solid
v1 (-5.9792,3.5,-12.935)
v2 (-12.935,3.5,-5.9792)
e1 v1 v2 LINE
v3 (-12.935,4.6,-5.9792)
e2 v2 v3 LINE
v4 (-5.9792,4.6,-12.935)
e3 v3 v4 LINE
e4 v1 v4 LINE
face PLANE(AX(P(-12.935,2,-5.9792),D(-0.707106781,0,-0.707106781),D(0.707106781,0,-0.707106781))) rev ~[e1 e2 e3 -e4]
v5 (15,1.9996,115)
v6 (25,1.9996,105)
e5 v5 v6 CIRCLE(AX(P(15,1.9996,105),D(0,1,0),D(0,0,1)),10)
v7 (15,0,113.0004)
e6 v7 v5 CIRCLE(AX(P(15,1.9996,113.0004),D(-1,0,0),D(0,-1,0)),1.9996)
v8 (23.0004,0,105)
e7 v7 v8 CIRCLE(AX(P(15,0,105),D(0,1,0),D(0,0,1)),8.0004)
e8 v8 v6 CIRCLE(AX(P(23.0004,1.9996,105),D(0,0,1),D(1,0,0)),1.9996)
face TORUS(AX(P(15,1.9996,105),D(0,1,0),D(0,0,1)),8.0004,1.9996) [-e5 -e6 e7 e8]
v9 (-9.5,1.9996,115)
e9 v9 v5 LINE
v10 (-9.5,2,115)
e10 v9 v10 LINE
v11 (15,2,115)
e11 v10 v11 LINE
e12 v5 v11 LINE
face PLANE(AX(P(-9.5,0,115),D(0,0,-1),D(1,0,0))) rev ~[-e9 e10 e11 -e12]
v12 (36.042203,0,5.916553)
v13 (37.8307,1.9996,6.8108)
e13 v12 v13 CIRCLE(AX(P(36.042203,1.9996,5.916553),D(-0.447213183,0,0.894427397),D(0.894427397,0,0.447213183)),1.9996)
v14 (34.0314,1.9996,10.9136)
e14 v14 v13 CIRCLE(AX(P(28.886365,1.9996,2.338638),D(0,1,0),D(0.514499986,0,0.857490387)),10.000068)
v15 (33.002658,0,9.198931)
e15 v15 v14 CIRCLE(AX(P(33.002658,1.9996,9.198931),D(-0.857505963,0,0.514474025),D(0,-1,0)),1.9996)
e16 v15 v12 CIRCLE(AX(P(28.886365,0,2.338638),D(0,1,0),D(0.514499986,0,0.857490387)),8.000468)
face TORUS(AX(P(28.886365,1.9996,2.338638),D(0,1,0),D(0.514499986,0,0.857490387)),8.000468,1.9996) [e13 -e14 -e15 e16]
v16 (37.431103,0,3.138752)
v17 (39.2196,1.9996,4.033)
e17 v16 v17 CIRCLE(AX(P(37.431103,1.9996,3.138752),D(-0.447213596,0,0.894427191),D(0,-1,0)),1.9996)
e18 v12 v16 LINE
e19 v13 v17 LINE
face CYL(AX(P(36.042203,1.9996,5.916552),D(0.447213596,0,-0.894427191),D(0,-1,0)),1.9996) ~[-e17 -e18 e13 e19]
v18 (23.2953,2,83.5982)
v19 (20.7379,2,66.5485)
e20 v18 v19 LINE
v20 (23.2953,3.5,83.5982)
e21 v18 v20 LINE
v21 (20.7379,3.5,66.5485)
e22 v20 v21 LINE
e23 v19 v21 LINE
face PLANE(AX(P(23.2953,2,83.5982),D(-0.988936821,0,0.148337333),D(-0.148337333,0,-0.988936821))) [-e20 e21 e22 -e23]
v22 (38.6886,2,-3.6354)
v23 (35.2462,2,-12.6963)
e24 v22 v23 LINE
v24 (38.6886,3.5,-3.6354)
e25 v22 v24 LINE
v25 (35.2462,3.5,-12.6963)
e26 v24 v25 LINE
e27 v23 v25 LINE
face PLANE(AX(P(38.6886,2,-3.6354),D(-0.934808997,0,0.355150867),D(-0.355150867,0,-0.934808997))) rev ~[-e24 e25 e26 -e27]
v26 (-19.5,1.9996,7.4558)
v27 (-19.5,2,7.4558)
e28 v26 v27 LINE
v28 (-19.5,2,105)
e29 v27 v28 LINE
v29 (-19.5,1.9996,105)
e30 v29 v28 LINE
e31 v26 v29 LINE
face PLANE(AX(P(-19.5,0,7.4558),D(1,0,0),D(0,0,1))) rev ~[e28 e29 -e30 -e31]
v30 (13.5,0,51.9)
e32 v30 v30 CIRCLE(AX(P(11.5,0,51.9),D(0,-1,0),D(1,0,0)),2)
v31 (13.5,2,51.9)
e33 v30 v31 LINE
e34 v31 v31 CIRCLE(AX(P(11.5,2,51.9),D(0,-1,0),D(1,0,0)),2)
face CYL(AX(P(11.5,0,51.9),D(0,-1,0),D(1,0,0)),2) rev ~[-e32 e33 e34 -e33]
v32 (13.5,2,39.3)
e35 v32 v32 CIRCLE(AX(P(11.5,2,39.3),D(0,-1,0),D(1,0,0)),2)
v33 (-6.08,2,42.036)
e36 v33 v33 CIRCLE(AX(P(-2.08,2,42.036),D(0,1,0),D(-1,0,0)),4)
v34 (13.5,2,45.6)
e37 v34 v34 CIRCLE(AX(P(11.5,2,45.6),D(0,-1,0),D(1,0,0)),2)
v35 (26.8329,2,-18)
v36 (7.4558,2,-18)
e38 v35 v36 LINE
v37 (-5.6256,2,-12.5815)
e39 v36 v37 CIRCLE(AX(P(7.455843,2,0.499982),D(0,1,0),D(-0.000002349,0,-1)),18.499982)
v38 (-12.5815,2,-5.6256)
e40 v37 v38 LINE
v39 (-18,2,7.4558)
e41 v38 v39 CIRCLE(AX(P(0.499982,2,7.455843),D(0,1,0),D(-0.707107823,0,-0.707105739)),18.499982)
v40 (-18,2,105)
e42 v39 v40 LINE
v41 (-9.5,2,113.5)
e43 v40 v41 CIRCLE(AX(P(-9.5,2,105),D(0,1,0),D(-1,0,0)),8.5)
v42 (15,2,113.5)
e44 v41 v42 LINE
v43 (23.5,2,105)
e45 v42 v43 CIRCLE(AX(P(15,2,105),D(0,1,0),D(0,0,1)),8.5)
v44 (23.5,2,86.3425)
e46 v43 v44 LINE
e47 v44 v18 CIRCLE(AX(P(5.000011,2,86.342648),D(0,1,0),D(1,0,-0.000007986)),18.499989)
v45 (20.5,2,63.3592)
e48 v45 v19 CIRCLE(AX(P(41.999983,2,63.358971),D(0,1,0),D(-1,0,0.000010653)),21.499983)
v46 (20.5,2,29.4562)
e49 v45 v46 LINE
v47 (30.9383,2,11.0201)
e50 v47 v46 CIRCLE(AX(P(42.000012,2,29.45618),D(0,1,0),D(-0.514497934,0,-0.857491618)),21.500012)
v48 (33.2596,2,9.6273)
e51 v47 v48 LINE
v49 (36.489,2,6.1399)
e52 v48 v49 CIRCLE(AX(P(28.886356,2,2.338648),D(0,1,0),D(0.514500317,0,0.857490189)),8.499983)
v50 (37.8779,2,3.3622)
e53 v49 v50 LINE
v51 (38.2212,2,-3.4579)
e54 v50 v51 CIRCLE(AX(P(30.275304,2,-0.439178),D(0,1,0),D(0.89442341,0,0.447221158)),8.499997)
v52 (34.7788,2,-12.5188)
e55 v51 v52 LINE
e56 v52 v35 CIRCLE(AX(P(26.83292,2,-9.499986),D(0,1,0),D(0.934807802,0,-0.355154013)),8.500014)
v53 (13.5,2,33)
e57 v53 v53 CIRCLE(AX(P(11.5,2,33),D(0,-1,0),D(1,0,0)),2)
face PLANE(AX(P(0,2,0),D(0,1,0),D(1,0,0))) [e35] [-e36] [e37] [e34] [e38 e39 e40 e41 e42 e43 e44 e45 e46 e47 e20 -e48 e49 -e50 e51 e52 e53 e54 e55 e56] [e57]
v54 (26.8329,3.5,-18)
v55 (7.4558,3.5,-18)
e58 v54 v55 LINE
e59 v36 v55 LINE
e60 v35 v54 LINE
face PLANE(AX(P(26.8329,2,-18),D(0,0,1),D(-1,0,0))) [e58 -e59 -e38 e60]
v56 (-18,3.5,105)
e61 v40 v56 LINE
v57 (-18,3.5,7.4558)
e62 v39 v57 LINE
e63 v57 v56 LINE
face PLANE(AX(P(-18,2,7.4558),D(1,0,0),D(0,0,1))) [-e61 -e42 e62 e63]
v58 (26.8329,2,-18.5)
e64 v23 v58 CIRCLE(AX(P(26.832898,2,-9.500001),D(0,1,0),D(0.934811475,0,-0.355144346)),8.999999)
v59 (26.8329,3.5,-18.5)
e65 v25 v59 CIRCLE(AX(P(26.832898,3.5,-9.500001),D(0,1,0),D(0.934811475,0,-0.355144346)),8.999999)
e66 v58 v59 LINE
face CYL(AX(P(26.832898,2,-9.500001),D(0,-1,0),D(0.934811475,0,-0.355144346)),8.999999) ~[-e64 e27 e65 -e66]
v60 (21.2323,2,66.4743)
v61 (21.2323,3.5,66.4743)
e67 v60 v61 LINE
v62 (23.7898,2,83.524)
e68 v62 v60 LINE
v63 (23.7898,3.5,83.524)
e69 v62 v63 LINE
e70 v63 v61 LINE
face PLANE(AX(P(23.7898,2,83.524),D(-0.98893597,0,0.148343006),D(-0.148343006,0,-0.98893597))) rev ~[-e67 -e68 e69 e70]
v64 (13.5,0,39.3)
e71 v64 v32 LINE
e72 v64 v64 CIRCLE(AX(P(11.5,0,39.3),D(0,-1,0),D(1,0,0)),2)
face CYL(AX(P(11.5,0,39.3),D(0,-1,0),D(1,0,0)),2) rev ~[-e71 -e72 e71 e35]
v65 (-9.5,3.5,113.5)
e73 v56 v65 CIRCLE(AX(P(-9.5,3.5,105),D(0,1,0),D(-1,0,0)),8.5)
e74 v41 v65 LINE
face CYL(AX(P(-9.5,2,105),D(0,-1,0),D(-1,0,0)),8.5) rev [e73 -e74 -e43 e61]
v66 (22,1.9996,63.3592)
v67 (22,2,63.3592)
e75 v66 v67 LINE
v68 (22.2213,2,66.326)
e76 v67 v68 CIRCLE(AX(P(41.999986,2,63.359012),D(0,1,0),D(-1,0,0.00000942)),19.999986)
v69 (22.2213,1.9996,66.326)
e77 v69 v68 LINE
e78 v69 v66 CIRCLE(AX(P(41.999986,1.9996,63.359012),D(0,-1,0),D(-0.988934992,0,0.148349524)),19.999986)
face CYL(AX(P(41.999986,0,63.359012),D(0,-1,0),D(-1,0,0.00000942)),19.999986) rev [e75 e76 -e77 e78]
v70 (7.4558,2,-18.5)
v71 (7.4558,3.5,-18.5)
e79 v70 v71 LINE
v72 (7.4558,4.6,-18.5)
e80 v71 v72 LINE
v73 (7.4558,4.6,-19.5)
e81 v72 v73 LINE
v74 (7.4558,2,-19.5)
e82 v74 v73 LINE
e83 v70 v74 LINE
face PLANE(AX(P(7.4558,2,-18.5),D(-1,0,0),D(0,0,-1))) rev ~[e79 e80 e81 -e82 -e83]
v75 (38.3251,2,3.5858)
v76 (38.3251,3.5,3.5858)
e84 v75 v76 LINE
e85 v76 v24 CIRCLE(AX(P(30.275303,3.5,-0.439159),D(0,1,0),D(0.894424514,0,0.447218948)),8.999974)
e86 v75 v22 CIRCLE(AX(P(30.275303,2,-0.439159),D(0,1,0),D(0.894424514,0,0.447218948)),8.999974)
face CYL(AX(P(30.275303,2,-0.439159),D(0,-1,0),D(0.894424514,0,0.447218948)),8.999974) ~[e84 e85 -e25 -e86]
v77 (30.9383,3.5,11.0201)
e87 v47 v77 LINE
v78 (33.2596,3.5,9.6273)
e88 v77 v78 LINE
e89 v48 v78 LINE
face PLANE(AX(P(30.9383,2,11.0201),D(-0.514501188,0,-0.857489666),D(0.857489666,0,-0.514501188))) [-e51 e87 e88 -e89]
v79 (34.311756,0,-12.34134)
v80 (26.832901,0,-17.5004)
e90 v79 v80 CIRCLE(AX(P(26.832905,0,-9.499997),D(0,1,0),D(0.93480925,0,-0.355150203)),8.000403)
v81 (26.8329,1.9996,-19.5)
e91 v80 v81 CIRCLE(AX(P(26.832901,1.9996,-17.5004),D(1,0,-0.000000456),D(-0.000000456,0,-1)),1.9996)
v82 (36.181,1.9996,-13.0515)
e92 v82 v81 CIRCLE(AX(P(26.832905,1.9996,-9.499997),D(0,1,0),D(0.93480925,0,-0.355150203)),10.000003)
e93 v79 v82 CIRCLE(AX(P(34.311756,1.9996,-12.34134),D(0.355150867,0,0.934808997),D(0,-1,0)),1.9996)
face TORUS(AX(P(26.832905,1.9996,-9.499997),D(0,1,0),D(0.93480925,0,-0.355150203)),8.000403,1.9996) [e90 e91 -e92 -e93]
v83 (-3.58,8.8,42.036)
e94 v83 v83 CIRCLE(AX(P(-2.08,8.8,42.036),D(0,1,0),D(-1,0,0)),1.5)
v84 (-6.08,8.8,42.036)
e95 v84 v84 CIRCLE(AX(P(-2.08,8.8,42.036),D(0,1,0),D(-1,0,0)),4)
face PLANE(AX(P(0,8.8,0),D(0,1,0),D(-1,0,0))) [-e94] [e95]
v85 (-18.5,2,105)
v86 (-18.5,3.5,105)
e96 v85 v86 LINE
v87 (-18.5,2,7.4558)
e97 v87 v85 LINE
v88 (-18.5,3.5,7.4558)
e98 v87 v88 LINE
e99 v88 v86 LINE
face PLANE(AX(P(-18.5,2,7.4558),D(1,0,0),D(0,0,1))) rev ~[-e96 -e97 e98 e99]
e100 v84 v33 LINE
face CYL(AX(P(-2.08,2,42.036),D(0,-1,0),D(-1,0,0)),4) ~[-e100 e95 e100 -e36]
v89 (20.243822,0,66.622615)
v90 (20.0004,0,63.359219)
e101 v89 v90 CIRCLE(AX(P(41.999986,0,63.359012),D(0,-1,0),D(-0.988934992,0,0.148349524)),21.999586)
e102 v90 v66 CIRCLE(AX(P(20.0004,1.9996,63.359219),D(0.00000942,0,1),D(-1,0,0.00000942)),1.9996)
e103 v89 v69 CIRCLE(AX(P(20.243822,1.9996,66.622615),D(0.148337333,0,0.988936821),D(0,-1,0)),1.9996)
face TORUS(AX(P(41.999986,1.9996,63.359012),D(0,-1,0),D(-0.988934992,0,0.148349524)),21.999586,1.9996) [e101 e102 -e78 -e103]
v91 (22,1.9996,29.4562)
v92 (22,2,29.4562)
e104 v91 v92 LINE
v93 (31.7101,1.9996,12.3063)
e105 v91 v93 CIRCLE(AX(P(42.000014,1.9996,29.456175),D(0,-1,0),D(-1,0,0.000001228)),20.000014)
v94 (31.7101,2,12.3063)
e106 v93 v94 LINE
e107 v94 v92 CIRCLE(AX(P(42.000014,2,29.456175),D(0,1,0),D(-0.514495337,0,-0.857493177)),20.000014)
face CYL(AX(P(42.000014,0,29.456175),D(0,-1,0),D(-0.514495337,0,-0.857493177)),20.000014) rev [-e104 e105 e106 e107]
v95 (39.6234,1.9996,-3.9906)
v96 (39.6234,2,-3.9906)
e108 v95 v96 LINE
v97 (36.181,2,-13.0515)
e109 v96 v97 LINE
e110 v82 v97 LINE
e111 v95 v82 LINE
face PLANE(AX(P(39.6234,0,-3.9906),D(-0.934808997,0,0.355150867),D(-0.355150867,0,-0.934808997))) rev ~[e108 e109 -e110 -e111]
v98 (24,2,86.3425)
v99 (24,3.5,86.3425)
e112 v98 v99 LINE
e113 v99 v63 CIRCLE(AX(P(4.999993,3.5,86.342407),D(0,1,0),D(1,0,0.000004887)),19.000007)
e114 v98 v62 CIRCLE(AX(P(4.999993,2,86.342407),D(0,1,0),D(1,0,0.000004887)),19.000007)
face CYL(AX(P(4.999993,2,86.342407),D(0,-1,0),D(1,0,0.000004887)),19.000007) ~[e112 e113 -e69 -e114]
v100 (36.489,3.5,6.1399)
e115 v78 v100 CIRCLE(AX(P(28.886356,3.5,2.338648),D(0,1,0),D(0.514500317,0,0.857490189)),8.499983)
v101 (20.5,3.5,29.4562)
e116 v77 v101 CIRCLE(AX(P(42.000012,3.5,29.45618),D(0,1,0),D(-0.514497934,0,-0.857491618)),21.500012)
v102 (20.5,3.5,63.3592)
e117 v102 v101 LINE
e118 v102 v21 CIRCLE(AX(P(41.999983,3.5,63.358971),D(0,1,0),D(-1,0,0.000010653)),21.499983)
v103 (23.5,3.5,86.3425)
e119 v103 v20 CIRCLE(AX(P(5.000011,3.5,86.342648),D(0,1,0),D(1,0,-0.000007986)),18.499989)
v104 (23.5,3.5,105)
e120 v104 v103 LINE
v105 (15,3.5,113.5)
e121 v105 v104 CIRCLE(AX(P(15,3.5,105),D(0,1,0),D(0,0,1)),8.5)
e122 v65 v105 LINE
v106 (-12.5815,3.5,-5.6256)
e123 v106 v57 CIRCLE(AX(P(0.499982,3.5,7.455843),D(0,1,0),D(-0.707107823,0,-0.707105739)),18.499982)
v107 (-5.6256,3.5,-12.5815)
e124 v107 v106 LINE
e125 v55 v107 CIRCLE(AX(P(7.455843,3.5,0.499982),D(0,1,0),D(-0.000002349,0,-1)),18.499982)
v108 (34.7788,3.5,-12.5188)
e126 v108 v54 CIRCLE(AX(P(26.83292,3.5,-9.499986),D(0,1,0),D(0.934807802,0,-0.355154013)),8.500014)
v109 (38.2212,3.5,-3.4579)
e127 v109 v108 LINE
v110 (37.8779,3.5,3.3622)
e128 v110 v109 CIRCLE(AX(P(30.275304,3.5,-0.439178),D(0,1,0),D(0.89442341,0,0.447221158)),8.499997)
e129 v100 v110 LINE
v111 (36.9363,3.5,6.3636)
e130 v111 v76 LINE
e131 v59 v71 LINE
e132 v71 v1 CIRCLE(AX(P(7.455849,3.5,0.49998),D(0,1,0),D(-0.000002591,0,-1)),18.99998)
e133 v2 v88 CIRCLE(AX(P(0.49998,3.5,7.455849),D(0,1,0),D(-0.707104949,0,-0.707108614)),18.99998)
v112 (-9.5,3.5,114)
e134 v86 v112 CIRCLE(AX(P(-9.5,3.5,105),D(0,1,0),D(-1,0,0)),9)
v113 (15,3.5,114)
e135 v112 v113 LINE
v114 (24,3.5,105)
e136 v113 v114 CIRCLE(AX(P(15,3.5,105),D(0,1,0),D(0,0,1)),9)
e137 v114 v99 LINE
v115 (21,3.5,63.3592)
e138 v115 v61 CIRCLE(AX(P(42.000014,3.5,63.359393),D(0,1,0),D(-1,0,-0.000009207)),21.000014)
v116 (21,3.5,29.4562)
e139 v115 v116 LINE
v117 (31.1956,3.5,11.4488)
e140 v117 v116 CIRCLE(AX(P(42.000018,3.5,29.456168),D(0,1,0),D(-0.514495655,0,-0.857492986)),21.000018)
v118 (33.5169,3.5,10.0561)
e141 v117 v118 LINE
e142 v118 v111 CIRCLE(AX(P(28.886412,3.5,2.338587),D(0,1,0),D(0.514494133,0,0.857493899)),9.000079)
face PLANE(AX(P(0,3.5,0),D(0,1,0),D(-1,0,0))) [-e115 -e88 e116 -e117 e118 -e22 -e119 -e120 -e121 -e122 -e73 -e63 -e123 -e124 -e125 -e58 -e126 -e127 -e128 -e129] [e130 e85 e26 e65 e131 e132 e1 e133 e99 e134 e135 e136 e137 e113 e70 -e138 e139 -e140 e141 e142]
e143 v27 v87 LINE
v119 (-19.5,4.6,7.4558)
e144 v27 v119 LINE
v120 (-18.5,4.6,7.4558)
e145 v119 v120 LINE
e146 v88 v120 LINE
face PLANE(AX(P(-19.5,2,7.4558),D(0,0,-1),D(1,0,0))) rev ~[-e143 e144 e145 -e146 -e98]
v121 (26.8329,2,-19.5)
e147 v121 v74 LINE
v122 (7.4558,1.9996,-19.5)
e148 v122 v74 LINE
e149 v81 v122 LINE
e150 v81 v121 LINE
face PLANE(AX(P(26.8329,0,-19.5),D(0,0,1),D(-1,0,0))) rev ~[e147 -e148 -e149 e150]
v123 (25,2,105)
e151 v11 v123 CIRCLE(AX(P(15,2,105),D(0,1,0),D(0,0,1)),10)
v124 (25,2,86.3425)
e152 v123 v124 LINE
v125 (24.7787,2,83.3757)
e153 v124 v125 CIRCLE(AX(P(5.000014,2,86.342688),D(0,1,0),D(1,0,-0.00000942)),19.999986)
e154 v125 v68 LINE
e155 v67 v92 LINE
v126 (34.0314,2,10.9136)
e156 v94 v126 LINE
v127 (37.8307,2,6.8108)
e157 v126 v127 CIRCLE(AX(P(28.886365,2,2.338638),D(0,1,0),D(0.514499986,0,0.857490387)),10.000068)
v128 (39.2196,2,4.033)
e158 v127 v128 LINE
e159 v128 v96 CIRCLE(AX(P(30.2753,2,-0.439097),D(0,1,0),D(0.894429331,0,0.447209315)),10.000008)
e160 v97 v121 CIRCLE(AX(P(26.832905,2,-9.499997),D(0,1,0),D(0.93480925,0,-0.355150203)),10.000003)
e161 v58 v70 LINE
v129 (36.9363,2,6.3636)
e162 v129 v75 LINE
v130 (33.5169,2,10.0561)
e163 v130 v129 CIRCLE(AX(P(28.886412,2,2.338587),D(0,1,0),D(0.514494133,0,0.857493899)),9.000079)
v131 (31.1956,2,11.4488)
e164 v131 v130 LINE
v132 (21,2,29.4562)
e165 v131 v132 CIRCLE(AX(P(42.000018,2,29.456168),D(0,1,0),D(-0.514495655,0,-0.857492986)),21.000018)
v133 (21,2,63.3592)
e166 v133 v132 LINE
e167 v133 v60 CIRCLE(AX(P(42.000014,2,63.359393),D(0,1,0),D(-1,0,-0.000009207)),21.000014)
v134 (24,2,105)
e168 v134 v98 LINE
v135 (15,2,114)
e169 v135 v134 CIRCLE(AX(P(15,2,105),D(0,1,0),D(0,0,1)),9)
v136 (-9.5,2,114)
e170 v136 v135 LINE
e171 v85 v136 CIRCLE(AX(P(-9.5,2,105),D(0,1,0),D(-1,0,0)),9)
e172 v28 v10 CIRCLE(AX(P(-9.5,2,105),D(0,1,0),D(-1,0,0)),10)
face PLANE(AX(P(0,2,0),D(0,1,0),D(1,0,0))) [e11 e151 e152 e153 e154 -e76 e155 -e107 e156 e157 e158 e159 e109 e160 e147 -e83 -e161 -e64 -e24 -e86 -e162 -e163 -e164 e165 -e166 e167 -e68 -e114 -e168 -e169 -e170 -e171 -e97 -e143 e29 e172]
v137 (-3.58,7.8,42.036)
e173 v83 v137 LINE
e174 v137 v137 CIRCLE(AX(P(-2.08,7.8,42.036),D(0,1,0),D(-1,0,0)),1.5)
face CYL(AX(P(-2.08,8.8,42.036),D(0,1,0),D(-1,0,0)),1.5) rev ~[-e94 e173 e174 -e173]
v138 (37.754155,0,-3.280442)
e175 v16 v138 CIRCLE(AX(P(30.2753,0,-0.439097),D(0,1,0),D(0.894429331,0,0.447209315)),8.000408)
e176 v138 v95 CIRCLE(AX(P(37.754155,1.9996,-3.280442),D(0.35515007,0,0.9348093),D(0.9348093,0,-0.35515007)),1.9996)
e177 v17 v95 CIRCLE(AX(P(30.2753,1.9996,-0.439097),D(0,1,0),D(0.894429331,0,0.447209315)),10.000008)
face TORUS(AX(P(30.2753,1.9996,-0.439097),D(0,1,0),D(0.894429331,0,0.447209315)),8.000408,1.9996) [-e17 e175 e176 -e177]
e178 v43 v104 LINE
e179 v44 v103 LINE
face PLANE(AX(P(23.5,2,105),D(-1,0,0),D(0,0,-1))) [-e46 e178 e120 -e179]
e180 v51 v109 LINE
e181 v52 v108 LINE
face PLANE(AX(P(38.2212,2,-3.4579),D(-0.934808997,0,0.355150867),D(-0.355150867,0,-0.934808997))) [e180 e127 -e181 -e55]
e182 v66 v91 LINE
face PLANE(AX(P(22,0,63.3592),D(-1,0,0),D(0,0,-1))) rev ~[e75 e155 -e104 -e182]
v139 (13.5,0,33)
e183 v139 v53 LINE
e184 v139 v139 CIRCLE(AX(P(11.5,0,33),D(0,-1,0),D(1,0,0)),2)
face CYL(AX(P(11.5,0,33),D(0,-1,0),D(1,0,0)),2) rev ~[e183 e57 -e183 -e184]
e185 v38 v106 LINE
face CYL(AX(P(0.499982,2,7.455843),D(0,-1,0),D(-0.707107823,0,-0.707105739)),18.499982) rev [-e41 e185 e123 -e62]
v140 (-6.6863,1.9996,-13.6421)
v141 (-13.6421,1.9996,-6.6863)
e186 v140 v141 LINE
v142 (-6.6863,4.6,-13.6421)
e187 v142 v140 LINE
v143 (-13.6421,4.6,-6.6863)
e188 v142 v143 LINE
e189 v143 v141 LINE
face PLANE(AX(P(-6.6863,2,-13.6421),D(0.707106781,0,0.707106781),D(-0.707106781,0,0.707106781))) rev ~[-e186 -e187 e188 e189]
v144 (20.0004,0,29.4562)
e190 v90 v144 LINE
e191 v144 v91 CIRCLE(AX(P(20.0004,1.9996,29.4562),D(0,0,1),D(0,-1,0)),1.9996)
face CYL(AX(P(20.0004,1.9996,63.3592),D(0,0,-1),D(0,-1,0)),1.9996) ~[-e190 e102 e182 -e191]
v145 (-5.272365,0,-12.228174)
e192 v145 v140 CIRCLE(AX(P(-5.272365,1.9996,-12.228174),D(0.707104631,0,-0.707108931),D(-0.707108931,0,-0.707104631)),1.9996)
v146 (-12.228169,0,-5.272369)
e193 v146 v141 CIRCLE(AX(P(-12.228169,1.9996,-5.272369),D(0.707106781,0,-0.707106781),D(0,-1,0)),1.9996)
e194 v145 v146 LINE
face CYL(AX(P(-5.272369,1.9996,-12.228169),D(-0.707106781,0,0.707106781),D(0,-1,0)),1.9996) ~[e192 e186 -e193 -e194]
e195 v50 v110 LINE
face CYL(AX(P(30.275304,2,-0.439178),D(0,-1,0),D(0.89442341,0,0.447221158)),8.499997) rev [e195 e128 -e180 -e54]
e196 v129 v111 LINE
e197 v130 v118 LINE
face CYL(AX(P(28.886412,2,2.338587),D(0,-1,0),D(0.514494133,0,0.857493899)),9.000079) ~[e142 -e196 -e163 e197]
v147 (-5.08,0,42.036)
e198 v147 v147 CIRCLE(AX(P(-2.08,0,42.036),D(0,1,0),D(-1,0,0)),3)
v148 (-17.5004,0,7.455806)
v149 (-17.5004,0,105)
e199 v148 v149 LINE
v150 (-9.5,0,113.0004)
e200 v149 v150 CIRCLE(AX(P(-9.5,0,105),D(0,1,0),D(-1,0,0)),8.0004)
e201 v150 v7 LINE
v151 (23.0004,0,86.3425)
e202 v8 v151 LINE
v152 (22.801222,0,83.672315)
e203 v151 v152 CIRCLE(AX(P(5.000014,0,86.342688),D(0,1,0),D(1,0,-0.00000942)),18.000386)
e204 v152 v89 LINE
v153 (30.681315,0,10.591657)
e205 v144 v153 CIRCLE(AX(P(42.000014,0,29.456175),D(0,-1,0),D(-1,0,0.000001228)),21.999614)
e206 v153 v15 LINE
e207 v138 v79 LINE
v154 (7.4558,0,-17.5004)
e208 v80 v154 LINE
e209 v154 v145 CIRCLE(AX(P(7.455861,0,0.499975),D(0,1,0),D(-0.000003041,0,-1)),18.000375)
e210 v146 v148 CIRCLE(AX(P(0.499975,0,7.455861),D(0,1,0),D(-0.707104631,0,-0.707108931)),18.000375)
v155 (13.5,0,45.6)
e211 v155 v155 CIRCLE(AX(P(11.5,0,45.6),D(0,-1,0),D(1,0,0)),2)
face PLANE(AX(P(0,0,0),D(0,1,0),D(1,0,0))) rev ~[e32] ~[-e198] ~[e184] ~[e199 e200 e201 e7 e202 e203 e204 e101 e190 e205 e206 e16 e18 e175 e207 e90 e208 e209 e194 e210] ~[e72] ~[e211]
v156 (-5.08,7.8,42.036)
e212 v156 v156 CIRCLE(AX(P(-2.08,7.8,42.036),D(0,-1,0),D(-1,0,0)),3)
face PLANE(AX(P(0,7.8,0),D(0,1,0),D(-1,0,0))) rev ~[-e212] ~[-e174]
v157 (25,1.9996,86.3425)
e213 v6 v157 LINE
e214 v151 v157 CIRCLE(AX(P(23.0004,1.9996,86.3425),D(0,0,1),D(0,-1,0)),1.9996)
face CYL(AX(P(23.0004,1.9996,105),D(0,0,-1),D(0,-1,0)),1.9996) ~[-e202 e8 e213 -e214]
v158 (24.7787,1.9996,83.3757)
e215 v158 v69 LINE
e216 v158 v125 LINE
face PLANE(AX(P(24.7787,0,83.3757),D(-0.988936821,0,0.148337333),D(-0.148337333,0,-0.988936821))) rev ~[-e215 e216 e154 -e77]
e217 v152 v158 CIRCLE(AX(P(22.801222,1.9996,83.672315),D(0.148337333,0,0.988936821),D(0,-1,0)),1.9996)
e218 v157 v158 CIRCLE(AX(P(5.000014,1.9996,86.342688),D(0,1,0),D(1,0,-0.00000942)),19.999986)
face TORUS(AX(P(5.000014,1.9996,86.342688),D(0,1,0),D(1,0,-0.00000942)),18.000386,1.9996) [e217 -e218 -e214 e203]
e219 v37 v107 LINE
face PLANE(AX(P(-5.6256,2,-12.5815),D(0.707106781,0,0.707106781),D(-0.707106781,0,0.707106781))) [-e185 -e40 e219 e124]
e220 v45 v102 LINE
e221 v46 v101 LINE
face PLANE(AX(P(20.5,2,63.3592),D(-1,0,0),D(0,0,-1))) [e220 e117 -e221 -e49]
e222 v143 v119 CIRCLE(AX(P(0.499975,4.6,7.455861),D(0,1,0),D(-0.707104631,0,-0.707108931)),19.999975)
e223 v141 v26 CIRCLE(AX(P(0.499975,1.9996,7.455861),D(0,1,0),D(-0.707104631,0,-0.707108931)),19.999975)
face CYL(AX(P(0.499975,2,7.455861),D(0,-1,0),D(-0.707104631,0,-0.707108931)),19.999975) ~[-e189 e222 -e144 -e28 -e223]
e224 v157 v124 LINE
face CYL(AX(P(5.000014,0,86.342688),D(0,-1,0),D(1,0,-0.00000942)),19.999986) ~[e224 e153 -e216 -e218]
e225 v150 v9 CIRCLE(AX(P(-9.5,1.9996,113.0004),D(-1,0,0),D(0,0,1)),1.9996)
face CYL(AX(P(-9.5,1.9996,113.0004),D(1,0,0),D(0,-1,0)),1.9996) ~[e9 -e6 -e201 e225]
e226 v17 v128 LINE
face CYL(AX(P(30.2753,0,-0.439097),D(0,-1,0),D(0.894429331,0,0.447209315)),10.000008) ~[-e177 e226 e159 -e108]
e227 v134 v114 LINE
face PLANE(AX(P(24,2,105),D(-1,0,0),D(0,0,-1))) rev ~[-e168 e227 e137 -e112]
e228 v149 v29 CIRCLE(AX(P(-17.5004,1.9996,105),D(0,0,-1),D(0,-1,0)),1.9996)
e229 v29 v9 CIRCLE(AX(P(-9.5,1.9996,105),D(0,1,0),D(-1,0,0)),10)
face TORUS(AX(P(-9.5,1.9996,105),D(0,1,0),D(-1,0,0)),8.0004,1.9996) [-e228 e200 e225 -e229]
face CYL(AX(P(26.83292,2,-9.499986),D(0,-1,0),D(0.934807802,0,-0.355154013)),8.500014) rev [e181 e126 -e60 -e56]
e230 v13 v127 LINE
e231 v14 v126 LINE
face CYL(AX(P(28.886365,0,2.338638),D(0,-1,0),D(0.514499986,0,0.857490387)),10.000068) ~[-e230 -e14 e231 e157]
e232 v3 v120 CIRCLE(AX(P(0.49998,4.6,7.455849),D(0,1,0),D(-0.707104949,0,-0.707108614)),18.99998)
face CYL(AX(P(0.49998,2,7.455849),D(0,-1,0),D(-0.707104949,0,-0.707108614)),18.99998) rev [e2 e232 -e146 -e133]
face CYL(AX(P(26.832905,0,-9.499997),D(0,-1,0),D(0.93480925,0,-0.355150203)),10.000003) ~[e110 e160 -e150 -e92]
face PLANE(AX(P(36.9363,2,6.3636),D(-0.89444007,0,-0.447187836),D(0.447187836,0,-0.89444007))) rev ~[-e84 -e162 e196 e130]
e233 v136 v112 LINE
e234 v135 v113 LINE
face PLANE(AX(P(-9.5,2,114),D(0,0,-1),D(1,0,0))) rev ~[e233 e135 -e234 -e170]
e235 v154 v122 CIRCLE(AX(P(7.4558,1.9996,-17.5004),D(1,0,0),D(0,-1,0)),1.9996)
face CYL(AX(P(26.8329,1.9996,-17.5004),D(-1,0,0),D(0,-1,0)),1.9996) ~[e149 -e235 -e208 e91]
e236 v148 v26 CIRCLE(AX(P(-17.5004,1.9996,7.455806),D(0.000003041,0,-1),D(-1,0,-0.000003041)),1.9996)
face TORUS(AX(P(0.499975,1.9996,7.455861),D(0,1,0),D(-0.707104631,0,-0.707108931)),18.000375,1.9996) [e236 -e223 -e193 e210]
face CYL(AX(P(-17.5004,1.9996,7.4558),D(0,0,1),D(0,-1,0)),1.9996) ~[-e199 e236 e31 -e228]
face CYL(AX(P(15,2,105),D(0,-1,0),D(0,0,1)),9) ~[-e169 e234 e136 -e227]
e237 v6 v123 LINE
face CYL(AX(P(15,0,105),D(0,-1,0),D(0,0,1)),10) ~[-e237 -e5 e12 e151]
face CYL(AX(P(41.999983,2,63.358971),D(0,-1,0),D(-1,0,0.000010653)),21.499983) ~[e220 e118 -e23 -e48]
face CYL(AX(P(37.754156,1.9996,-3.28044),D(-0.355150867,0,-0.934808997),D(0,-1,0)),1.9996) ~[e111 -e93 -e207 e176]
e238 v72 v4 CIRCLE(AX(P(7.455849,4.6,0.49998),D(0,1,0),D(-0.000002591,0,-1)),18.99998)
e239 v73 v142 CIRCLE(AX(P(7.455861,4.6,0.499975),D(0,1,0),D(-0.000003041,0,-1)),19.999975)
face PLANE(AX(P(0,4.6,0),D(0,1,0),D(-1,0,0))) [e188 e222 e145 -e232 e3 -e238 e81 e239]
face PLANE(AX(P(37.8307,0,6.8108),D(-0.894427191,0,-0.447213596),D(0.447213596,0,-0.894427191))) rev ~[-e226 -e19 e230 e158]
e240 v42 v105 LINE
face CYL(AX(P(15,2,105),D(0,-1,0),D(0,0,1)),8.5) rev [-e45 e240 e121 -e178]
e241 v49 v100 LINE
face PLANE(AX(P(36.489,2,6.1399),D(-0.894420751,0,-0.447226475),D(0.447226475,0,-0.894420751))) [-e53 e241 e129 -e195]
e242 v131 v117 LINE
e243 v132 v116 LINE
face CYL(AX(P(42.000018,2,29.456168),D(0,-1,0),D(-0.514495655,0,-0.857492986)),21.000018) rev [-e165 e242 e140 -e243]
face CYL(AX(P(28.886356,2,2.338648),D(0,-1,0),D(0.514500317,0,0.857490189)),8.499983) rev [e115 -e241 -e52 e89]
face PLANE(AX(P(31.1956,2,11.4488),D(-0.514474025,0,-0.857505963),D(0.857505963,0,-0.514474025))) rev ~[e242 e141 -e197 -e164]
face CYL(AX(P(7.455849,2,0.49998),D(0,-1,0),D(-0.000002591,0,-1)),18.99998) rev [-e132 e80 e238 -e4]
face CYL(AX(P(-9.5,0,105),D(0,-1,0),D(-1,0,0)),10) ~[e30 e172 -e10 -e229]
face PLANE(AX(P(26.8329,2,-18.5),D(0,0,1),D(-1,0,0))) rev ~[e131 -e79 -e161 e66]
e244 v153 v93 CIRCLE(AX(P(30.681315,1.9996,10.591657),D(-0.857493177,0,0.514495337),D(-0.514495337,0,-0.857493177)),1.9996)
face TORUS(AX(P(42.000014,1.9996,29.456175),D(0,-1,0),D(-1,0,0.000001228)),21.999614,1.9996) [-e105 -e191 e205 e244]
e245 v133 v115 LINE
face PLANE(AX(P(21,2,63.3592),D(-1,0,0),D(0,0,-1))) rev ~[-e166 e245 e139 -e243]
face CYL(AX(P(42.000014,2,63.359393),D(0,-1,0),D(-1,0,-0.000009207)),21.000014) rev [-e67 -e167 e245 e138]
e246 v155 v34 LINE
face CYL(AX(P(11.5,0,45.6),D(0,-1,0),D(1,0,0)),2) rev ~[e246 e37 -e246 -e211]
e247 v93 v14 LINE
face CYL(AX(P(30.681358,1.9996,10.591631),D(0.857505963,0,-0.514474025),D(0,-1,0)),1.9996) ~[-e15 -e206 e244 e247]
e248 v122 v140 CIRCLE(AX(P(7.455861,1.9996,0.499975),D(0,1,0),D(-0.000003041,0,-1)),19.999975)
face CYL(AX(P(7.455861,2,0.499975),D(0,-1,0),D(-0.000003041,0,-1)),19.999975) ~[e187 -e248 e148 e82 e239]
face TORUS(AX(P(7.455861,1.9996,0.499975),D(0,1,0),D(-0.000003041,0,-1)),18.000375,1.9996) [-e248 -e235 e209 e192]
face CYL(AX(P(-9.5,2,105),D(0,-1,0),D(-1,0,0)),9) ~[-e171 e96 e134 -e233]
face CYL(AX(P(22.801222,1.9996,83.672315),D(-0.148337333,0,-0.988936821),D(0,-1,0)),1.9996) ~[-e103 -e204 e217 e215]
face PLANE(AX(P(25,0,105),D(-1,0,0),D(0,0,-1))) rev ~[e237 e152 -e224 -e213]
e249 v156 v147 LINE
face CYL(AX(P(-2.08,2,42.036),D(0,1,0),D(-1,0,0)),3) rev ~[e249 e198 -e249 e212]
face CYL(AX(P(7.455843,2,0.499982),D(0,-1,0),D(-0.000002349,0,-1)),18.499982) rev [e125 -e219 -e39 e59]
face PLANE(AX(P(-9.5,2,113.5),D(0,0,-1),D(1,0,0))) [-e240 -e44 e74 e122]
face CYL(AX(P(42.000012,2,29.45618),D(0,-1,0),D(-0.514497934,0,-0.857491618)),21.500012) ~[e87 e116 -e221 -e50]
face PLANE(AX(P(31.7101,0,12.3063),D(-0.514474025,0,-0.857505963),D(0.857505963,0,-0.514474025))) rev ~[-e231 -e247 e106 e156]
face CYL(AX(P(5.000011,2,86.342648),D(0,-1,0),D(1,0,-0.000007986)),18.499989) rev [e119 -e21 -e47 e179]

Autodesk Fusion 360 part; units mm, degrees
sketch "Sketch1" plane through (0, 0, 0) normal (0, 1, 0) x (1, 0, 0)
  line L0 (31.7101, -12.3063) -> (34.0314, -10.9136)
  arc A0 (39.2196, -4.033) -> (39.6234, 3.9906) centre (30.2753, 0.4391) ccw
  line L1 (37.8307, -6.8108) -> (39.2196, -4.033)
  arc A1 (15, -115) -> (25, -105) centre (15, -105) ccw
  arc A2 (31.7101, -12.3063) -> (22, -29.4562) centre (42, -29.4562) ccw
  arc A3 (34.0314, -10.9136) -> (37.8307, -6.8108) centre (28.8864, -2.3386) ccw
  arc A4 (36.181, 13.0515) -> (26.8329, 19.5) centre (26.8329, 9.5) ccw
  line L2 (39.6234, 3.9906) -> (36.181, 13.0515)
  arc A5 (-13.6421, 6.6863) -> (-19.5, -7.4558) centre (0.5, -7.4558) ccw
  line L3 (22, -63.3592) -> (22, -29.4562)
  arc A6 (7.4558, 19.5) -> (-6.6863, 13.6421) centre (7.4558, -0.5) ccw
  line L4 (24.7787, -83.3757) -> (22.2213, -66.326)
  arc A7 (25, -86.3425) -> (24.7787, -83.3757) centre (5, -86.3425) ccw
  line L5 (-6.6863, 13.6421) -> (-13.6421, 6.6863)
  line L6 (-9.5, -115) -> (15, -115)
  arc A8 (-19.5, -105) -> (-9.5, -115) centre (-9.5, -105) ccw
  line L7 (25, -105) -> (25, -86.3425)
  line L8 (26.8329, 19.5) -> (7.4558, 19.5)
  line L9 (-19.5, -7.4558) -> (-19.5, -105)
  arc A9 (22, -63.3592) -> (22.2213, -66.326) centre (42, -63.3592) ccw
extrude "Extrude1" add sketch "Sketch1" along normal blind 2
sketch "Sketch2" plane through (0, 2, 0) normal (0, 1, 0) x (-1, 0, 0)
  line L0 (-31.7101, 12.3063) -> (-34.0314, 10.9136)
  arc A0 (-34.0314, 10.9136) -> (-37.8307, 6.8108) centre (-28.8864, 2.3386) ccw
  line L1 (-37.8307, 6.8108) -> (-39.2196, 4.033)
  arc A1 (-39.2196, 4.033) -> (-39.6234, -3.9906) centre (-30.2753, -0.4391) ccw
  line L2 (-39.6234, -3.9906) -> (-36.181, -13.0515)
  arc A2 (-36.181, -13.0515) -> (-26.8329, -19.5) centre (-26.8329, -9.5) ccw
  line L3 (-26.8329, -19.5) -> (-7.4558, -19.5)
  arc A3 (-7.4558, -19.5) -> (6.6863, -13.6421) centre (-7.4558, 0.5) ccw
  line L4 (6.6863, -13.6421) -> (13.6421, -6.6863)
  arc A4 (13.6421, -6.6863) -> (19.5, 7.4558) centre (-0.5, 7.4558) ccw
  line L5 (19.5, 7.4558) -> (19.5, 105)
  arc A5 (19.5, 105) -> (9.5, 115) centre (9.5, 105) ccw
  line L6 (9.5, 115) -> (-15, 115)
  arc A6 (-15, 115) -> (-25, 105) centre (-15, 105) ccw
  line L7 (-25, 105) -> (-25, 86.3425)
  arc A7 (-25, 86.3425) -> (-24.7787, 83.3757) centre (-5, 86.3425) ccw
  line L8 (-24.7787, 83.3757) -> (-22.2213, 66.326)
  arc A8 (-22, 63.3592) -> (-22.2213, 66.326) centre (-42, 63.3592) ccw
  line L9 (-22, 63.3592) -> (-22, 29.4562)
  arc A9 (-31.7101, 12.3063) -> (-22, 29.4562) centre (-42, 29.4562) ccw
  line L10 (18.5, 7.4558) -> (18.5, 105)
  arc A10 (18.5, 105) -> (9.5, 114) centre (9.5, 105) ccw
  line L11 (9.5, 114) -> (-15, 114)
  arc A11 (-15, 114) -> (-24, 105) centre (-15, 105) ccw
  line L12 (-24, 105) -> (-24, 86.3425)
  arc A12 (-24, 86.3425) -> (-23.7898, 83.524) centre (-5, 86.3425) ccw
  line L13 (-23.7898, 83.524) -> (-21.2323, 66.4743)
  arc A13 (-21, 63.3592) -> (-21.2323, 66.4743) centre (-42, 63.3592) ccw
  line L14 (-21, 63.3592) -> (-21, 29.4562)
  arc A14 (-31.1956, 11.4488) -> (-21, 29.4562) centre (-42, 29.4562) ccw
  line L15 (-31.1956, 11.4488) -> (-33.5169, 10.0561)
  arc A15 (-33.5169, 10.0561) -> (-36.9363, 6.3636) centre (-28.8864, 2.3386) ccw
  line L16 (-36.9363, 6.3636) -> (-38.3251, 3.5858)
  arc A16 (-38.3251, 3.5858) -> (-38.6886, -3.6354) centre (-30.2753, -0.4391) ccw
  line L17 (-38.6886, -3.6354) -> (-35.2462, -12.6963)
  arc A17 (-35.2462, -12.6963) -> (-26.8329, -18.5) centre (-26.8329, -9.5) ccw
  line L18 (-26.8329, -18.5) -> (-7.4558, -18.5)
  arc A18 (-7.4558, -18.5) -> (5.9792, -12.935) centre (-7.4558, 0.5) ccw
  line L19 (5.9792, -12.935) -> (12.935, -5.9792)
  arc A19 (12.935, -5.9792) -> (18.5, 7.4558) centre (-0.5, 7.4558) ccw
  line L20 (9.5, 113.5) -> (-15, 113.5)
  arc A20 (-15, 113.5) -> (-23.5, 105) centre (-15, 105) ccw
  line L21 (-23.5, 105) -> (-23.5, 86.3425)
  arc A21 (-23.5, 86.3425) -> (-23.2953, 83.5982) centre (-5, 86.3425) ccw
  line L22 (-23.2953, 83.5982) -> (-20.7379, 66.5485)
  arc A22 (-20.5, 63.3592) -> (-20.7379, 66.5485) centre (-42, 63.3592) ccw
  line L23 (-20.5, 63.3592) -> (-20.5, 29.4562)
  arc A23 (-30.9383, 11.0201) -> (-20.5, 29.4562) centre (-42, 29.4562) ccw
  line L24 (-30.9383, 11.0201) -> (-33.2596, 9.6273)
  arc A24 (-33.2596, 9.6273) -> (-36.489, 6.1399) centre (-28.8864, 2.3386) ccw
  line L25 (-36.489, 6.1399) -> (-37.8779, 3.3622)
  arc A25 (-37.8779, 3.3622) -> (-38.2212, -3.4579) centre (-30.2753, -0.4391) ccw
  line L26 (-38.2212, -3.4579) -> (-34.7788, -12.5188)
  arc A26 (-34.7788, -12.5188) -> (-26.8329, -18) centre (-26.8329, -9.5) ccw
  line L27 (-26.8329, -18) -> (-7.4558, -18)
  arc A27 (-7.4558, -18) -> (5.6256, -12.5815) centre (-7.4558, 0.5) ccw
  line L28 (5.6256, -12.5815) -> (12.5815, -5.6256)
  arc A28 (12.5815, -5.6256) -> (18, 7.4558) centre (-0.5, 7.4558) ccw
  line L29 (18, 7.4558) -> (18, 105)
  arc A29 (18, 105) -> (9.5, 113.5) centre (9.5, 105) ccw
  dimension "d40" = -1
  dimension "d41" = -1.5
extrude "Extrude2" add sketch "Sketch2" along normal blind 1.5 contours L10 A10 L11 A11 L12 A12 L13 A13 L14 A14 L15 A15 L16 A16 L17 A17 L18 A18 L19 A19
sketch "Sketch3" plane through (0, 2, 0) normal (0, 1, 0) x (-1, 0, 0)
  line L0 (19.5, 7.4558) -> (18.5, 7.4558)
  arc A0 (-31.7101, 12.3063) -> (-22, 29.4562) centre (-42, 29.4562) ccw
  line L1 (-31.7101, 12.3063) -> (-34.0314, 10.9136)
  arc A1 (-34.0314, 10.9136) -> (-37.8307, 6.8108) centre (-28.8864, 2.3386) ccw
  line L2 (-37.8307, 6.8108) -> (-39.2196, 4.033)
  line L3 (-25, 105) -> (-25, 86.3425)
  arc A2 (-25, 86.3425) -> (-24.7787, 83.3757) centre (-5, 86.3425) ccw
  line L4 (-24.7787, 83.3757) -> (-22.2213, 66.326)
  arc A3 (-22, 63.3592) -> (-22.2213, 66.326) centre (-42, 63.3592) ccw
  line L5 (-22, 63.3592) -> (-22, 29.4562)
  line L6 (-39.6234, -3.9906) -> (-36.181, -13.0515)
  arc A4 (-36.181, -13.0515) -> (-26.8329, -19.5) centre (-26.8329, -9.5) ccw
  line L7 (-26.8329, -19.5) -> (-7.4558, -19.5)
  arc A5 (-7.4558, -19.5) -> (6.6863, -13.6421) centre (-7.4558, 0.5) ccw
  line L8 (6.6863, -13.6421) -> (13.6421, -6.6863)
  arc A6 (13.6421, -6.6863) -> (19.5, 7.4558) centre (-0.5, 7.4558) ccw
  line L9 (19.5, 7.4558) -> (19.5, 105)
  arc A7 (19.5, 105) -> (9.5, 115) centre (9.5, 105) ccw
  line L10 (9.5, 115) -> (-15, 115)
  arc A8 (-15, 115) -> (-25, 105) centre (-15, 105) ccw
  arc A9 (-33.2596, 9.6273) -> (-36.489, 6.1399) centre (-28.8864, 2.3386) ccw
  line L11 (-36.489, 6.1399) -> (-37.8779, 3.3622)
  arc A10 (-37.8779, 3.3622) -> (-38.2212, -3.4579) centre (-30.2753, -0.4391) ccw
  line L12 (-38.2212, -3.4579) -> (-34.7788, -12.5188)
  arc A11 (-34.7788, -12.5188) -> (-26.8329, -18) centre (-26.8329, -9.5) ccw
  line L13 (-26.8329, -18) -> (-7.4558, -18)
  arc A12 (-7.4558, -18) -> (5.6256, -12.5815) centre (-7.4558, 0.5) ccw
  line L14 (5.6256, -12.5815) -> (12.5815, -5.6256)
  arc A13 (12.5815, -5.6256) -> (18, 7.4558) centre (-0.5, 7.4558) ccw
  line L15 (18, 7.4558) -> (18, 105)
  arc A14 (18, 105) -> (9.5, 113.5) centre (9.5, 105) ccw
  line L16 (9.5, 113.5) -> (-15, 113.5)
  arc A15 (-15, 113.5) -> (-23.5, 105) centre (-15, 105) ccw
  line L17 (-23.5, 105) -> (-23.5, 86.3425)
  arc A16 (-23.5, 86.3425) -> (-23.2953, 83.5982) centre (-5, 86.3425) ccw
  line L18 (-23.2953, 83.5982) -> (-20.7379, 66.5485)
  arc A17 (-20.5, 63.3592) -> (-20.7379, 66.5485) centre (-42, 63.3592) ccw
  line L19 (-20.5, 63.3592) -> (-20.5, 29.4562)
  arc A18 (-30.9383, 11.0201) -> (-20.5, 29.4562) centre (-42, 29.4562) ccw
  line L20 (-30.9383, 11.0201) -> (-33.2596, 9.6273)
  arc A19 (-39.2196, 4.033) -> (-39.6234, -3.9906) centre (-30.2753, -0.4391) ccw
  arc A20 (-31.1956, 11.4488) -> (-21, 29.4562) centre (-42, 29.4562) ccw
  line L21 (-21, 29.4562) -> (-21, 63.3592)
  arc A21 (-21, 63.3592) -> (-21.2323, 66.4743) centre (-42, 63.3592) ccw
  line L22 (-21.2323, 66.4743) -> (-23.7898, 83.524)
  arc A22 (-24, 86.3425) -> (-23.7898, 83.524) centre (-5, 86.3425) ccw
  line L23 (-24, 86.3425) -> (-24, 105)
  arc A23 (-15, 114) -> (-24, 105) centre (-15, 105) ccw
  line L24 (-15, 114) -> (9.5, 114)
  arc A24 (18.5, 105) -> (9.5, 114) centre (9.5, 105) ccw
  line L25 (18.5, 105) -> (18.5, 7.4558)
  arc A25 (12.935, -5.9792) -> (18.5, 7.4558) centre (-0.5, 7.4558) ccw
  line L26 (12.935, -5.9792) -> (5.9792, -12.935)
  arc A26 (-7.4558, -18.5) -> (5.9792, -12.935) centre (-7.4558, 0.5) ccw
  line L27 (-7.4558, -18.5) -> (-26.8329, -18.5)
  arc A27 (-35.2462, -12.6963) -> (-26.8329, -18.5) centre (-26.8329, -9.5) ccw
  line L28 (-35.2462, -12.6963) -> (-38.6886, -3.6354)
  arc A28 (-38.3251, 3.5858) -> (-38.6886, -3.6354) centre (-30.2753, -0.4391) ccw
  line L29 (-38.3251, 3.5858) -> (-36.9363, 6.3636)
  arc A29 (-33.5169, 10.0561) -> (-36.9363, 6.3636) centre (-28.8864, 2.3386) ccw
  line L30 (-33.5169, 10.0561) -> (-31.1956, 11.4488)
  line L31 (-7.4558, -18.5) -> (-7.4558, -19.5)
extrude "Extrude3" add sketch "Sketch3" along normal blind 2.6 contours L0 A5 L8 A6 A25 L26 A26 L31
sketch "Sketch4" plane through (0, 0, 0) normal (0, -1, 0) x (1, 0, 0)
  circle A0 centre (11.5, 33) radius 2
  circle A1 centre (11.5, 39.3) radius 2
  circle A2 centre (11.5, 45.6) radius 2
  circle A3 centre (11.5, 51.9) radius 2
  line L0 (34.0314, 10.9136) -> (31.7101, 12.3063)
  arc A4 (22, 29.4562) -> (31.7101, 12.3063) centre (42, 29.4562) ccw
  line L1 (22, 29.4562) -> (22, 63.3592)
  arc A5 (22.2213, 66.326) -> (22, 63.3592) centre (42, 63.3592) ccw
  line L2 (22.2213, 66.326) -> (24.7787, 83.3757)
  arc A6 (24.7787, 83.3757) -> (25, 86.3425) centre (5, 86.3425) ccw
  line L3 (25, 86.3425) -> (25, 105)
  arc A7 (25, 105) -> (15, 115) centre (15, 105) ccw
  line L4 (15, 115) -> (-9.5, 115)
  arc A8 (-9.5, 115) -> (-19.5, 105) centre (-9.5, 105) ccw
  line L5 (-19.5, 105) -> (-19.5, 7.4558)
  arc A9 (-19.5, 7.4558) -> (-13.6421, -6.6863) centre (0.5, 7.4558) ccw
  line L6 (-13.6421, -6.6863) -> (-6.6863, -13.6421)
  arc A10 (-6.6863, -13.6421) -> (7.4558, -19.5) centre (7.4558, 0.5) ccw
  line L7 (7.4558, -19.5) -> (26.8329, -19.5)
  arc A11 (26.8329, -19.5) -> (36.181, -13.0515) centre (26.8329, -9.5) ccw
  line L8 (36.181, -13.0515) -> (39.6234, -3.9906)
  arc A12 (39.6234, -3.9906) -> (39.2196, 4.033) centre (30.2753, -0.4391) ccw
  line L9 (39.2196, 4.033) -> (37.8307, 6.8108)
  arc A13 (37.8307, 6.8108) -> (34.0314, 10.9136) centre (28.8864, 2.3386) ccw
  dimension "d14" = 4
  dimension "d18" = 0
  dimension "d19" = 6.3
  dimension "d44" = 10.5
extrude "Extrude4" cut sketch "Sketch4" against normal blind 5 contours A0 | A1 | A2 | A3
sketch "Sketch5" plane through (0, 2, 0) normal (0, 1, 0) x (-1, 0, 0)
  circle A0 centre (-11.5, 39.3) radius 2
  circle A1 centre (-11.5, 45.6) radius 2
  circle A2 centre (-11.5, 33) radius 2
  circle A3 centre (-11.5, 51.9) radius 2
  circle A4 centre (2.08, 42.036) radius 3
  circle A5 centre (2.08, 42.036) radius 4
  arc A6 (-33.2596, 9.6273) -> (-36.489, 6.1399) centre (-28.8864, 2.3386) ccw
  line L0 (-36.489, 6.1399) -> (-37.8779, 3.3622)
  arc A7 (-37.8779, 3.3622) -> (-38.2212, -3.4579) centre (-30.2753, -0.4391) ccw
  line L1 (-38.2212, -3.4579) -> (-34.7788, -12.5188)
  arc A8 (-34.7788, -12.5188) -> (-26.8329, -18) centre (-26.8329, -9.5) ccw
  line L2 (-26.8329, -18) -> (-7.4558, -18)
  arc A9 (-7.4558, -18) -> (5.6256, -12.5815) centre (-7.4558, 0.5) ccw
  line L3 (5.6256, -12.5815) -> (12.5815, -5.6256)
  arc A10 (12.5815, -5.6256) -> (18, 7.4558) centre (-0.5, 7.4558) ccw
  line L4 (18, 7.4558) -> (18, 105)
  arc A11 (18, 105) -> (9.5, 113.5) centre (9.5, 105) ccw
  arc A12 (-15, 113.5) -> (-23.5, 105) centre (-15, 105) ccw
  line L5 (-23.5, 105) -> (-23.5, 86.3425)
  arc A13 (-23.5, 86.3425) -> (-23.2953, 83.5982) centre (-5, 86.3425) ccw
  line L6 (-23.2953, 83.5982) -> (-20.7379, 66.5485)
  arc A14 (-20.5, 63.3592) -> (-20.7379, 66.5485) centre (-42, 63.3592) ccw
  line L7 (-20.5, 63.3592) -> (-20.5, 29.4562)
  arc A15 (-30.9383, 11.0201) -> (-20.5, 29.4562) centre (-42, 29.4562) ccw
  line L8 (-30.9383, 11.0201) -> (-33.2596, 9.6273)
  line L9 (19.5, 7.4558) -> (19.5, 105)
  line L10 (9.5, 115) -> (-15, 115)
  dimension "d22" = 6
  dimension "d23" = 8
  dimension "d42" = 17.42
  dimension "d43" = 72.964
extrude "Extrude5" add sketch "Sketch5" along normal blind 6.8 contours A5
extrude "Extrude6" cut 1 faces at (-1.2923, 2, 40.6272) along direction (0, -1, 0) blind 5
sketch "Sketch6" plane through (0, 8.8, 0) normal (0, 1, 0) x (-1, 0, 0)
  circle A0 centre (2.08, 42.036) radius 3
  circle A1 centre (2.08, 42.036) radius 4
  circle A2 centre (2.08, 42.036) radius 4
extrude "Extrude7" add sketch "Sketch6" against normal blind 1 contours A0 | A1 A2
sketch "Sketch7" plane through (0, 8.8, 0) normal (0, 1, 0) x (-1, 0, 0)
  circle A0 centre (2.08, 42.036) radius 4
  circle A1 centre (2.08, 42.036) radius 1.5
  dimension "d31" = 3
extrude "Extrude8" cut sketch "Sketch7" against normal blind 5 contours A1
fillet "Fillet1" radius 2 20 edges at (23.5, 0, 74.8508) (22.0554, 0, 64.8467) (22, 0, 46.4077) (24.596, 0, 19.6022) (32.8707, 0, 11.6099) (36.2236, 0, 9.1331) (38.5251, 0, 5.4219) (40.2626, 0, 0.0635) (37.9022, 0, -8.521) (32.5112, 0, -17.7315) (17.1444, 0, -19.5) (-0.1978, 0, -17.9776) (-10.1642, 0, -10.1642) (-17.9776, 0, -0.1978) (-19.5, 0, 56.2279) (-16.5711, 0, 112.0711) (2.75, 0, 115) (22.0711, 0, 112.0711) (25, 0, 95.6712) (24.9446, 0, 84.855)
